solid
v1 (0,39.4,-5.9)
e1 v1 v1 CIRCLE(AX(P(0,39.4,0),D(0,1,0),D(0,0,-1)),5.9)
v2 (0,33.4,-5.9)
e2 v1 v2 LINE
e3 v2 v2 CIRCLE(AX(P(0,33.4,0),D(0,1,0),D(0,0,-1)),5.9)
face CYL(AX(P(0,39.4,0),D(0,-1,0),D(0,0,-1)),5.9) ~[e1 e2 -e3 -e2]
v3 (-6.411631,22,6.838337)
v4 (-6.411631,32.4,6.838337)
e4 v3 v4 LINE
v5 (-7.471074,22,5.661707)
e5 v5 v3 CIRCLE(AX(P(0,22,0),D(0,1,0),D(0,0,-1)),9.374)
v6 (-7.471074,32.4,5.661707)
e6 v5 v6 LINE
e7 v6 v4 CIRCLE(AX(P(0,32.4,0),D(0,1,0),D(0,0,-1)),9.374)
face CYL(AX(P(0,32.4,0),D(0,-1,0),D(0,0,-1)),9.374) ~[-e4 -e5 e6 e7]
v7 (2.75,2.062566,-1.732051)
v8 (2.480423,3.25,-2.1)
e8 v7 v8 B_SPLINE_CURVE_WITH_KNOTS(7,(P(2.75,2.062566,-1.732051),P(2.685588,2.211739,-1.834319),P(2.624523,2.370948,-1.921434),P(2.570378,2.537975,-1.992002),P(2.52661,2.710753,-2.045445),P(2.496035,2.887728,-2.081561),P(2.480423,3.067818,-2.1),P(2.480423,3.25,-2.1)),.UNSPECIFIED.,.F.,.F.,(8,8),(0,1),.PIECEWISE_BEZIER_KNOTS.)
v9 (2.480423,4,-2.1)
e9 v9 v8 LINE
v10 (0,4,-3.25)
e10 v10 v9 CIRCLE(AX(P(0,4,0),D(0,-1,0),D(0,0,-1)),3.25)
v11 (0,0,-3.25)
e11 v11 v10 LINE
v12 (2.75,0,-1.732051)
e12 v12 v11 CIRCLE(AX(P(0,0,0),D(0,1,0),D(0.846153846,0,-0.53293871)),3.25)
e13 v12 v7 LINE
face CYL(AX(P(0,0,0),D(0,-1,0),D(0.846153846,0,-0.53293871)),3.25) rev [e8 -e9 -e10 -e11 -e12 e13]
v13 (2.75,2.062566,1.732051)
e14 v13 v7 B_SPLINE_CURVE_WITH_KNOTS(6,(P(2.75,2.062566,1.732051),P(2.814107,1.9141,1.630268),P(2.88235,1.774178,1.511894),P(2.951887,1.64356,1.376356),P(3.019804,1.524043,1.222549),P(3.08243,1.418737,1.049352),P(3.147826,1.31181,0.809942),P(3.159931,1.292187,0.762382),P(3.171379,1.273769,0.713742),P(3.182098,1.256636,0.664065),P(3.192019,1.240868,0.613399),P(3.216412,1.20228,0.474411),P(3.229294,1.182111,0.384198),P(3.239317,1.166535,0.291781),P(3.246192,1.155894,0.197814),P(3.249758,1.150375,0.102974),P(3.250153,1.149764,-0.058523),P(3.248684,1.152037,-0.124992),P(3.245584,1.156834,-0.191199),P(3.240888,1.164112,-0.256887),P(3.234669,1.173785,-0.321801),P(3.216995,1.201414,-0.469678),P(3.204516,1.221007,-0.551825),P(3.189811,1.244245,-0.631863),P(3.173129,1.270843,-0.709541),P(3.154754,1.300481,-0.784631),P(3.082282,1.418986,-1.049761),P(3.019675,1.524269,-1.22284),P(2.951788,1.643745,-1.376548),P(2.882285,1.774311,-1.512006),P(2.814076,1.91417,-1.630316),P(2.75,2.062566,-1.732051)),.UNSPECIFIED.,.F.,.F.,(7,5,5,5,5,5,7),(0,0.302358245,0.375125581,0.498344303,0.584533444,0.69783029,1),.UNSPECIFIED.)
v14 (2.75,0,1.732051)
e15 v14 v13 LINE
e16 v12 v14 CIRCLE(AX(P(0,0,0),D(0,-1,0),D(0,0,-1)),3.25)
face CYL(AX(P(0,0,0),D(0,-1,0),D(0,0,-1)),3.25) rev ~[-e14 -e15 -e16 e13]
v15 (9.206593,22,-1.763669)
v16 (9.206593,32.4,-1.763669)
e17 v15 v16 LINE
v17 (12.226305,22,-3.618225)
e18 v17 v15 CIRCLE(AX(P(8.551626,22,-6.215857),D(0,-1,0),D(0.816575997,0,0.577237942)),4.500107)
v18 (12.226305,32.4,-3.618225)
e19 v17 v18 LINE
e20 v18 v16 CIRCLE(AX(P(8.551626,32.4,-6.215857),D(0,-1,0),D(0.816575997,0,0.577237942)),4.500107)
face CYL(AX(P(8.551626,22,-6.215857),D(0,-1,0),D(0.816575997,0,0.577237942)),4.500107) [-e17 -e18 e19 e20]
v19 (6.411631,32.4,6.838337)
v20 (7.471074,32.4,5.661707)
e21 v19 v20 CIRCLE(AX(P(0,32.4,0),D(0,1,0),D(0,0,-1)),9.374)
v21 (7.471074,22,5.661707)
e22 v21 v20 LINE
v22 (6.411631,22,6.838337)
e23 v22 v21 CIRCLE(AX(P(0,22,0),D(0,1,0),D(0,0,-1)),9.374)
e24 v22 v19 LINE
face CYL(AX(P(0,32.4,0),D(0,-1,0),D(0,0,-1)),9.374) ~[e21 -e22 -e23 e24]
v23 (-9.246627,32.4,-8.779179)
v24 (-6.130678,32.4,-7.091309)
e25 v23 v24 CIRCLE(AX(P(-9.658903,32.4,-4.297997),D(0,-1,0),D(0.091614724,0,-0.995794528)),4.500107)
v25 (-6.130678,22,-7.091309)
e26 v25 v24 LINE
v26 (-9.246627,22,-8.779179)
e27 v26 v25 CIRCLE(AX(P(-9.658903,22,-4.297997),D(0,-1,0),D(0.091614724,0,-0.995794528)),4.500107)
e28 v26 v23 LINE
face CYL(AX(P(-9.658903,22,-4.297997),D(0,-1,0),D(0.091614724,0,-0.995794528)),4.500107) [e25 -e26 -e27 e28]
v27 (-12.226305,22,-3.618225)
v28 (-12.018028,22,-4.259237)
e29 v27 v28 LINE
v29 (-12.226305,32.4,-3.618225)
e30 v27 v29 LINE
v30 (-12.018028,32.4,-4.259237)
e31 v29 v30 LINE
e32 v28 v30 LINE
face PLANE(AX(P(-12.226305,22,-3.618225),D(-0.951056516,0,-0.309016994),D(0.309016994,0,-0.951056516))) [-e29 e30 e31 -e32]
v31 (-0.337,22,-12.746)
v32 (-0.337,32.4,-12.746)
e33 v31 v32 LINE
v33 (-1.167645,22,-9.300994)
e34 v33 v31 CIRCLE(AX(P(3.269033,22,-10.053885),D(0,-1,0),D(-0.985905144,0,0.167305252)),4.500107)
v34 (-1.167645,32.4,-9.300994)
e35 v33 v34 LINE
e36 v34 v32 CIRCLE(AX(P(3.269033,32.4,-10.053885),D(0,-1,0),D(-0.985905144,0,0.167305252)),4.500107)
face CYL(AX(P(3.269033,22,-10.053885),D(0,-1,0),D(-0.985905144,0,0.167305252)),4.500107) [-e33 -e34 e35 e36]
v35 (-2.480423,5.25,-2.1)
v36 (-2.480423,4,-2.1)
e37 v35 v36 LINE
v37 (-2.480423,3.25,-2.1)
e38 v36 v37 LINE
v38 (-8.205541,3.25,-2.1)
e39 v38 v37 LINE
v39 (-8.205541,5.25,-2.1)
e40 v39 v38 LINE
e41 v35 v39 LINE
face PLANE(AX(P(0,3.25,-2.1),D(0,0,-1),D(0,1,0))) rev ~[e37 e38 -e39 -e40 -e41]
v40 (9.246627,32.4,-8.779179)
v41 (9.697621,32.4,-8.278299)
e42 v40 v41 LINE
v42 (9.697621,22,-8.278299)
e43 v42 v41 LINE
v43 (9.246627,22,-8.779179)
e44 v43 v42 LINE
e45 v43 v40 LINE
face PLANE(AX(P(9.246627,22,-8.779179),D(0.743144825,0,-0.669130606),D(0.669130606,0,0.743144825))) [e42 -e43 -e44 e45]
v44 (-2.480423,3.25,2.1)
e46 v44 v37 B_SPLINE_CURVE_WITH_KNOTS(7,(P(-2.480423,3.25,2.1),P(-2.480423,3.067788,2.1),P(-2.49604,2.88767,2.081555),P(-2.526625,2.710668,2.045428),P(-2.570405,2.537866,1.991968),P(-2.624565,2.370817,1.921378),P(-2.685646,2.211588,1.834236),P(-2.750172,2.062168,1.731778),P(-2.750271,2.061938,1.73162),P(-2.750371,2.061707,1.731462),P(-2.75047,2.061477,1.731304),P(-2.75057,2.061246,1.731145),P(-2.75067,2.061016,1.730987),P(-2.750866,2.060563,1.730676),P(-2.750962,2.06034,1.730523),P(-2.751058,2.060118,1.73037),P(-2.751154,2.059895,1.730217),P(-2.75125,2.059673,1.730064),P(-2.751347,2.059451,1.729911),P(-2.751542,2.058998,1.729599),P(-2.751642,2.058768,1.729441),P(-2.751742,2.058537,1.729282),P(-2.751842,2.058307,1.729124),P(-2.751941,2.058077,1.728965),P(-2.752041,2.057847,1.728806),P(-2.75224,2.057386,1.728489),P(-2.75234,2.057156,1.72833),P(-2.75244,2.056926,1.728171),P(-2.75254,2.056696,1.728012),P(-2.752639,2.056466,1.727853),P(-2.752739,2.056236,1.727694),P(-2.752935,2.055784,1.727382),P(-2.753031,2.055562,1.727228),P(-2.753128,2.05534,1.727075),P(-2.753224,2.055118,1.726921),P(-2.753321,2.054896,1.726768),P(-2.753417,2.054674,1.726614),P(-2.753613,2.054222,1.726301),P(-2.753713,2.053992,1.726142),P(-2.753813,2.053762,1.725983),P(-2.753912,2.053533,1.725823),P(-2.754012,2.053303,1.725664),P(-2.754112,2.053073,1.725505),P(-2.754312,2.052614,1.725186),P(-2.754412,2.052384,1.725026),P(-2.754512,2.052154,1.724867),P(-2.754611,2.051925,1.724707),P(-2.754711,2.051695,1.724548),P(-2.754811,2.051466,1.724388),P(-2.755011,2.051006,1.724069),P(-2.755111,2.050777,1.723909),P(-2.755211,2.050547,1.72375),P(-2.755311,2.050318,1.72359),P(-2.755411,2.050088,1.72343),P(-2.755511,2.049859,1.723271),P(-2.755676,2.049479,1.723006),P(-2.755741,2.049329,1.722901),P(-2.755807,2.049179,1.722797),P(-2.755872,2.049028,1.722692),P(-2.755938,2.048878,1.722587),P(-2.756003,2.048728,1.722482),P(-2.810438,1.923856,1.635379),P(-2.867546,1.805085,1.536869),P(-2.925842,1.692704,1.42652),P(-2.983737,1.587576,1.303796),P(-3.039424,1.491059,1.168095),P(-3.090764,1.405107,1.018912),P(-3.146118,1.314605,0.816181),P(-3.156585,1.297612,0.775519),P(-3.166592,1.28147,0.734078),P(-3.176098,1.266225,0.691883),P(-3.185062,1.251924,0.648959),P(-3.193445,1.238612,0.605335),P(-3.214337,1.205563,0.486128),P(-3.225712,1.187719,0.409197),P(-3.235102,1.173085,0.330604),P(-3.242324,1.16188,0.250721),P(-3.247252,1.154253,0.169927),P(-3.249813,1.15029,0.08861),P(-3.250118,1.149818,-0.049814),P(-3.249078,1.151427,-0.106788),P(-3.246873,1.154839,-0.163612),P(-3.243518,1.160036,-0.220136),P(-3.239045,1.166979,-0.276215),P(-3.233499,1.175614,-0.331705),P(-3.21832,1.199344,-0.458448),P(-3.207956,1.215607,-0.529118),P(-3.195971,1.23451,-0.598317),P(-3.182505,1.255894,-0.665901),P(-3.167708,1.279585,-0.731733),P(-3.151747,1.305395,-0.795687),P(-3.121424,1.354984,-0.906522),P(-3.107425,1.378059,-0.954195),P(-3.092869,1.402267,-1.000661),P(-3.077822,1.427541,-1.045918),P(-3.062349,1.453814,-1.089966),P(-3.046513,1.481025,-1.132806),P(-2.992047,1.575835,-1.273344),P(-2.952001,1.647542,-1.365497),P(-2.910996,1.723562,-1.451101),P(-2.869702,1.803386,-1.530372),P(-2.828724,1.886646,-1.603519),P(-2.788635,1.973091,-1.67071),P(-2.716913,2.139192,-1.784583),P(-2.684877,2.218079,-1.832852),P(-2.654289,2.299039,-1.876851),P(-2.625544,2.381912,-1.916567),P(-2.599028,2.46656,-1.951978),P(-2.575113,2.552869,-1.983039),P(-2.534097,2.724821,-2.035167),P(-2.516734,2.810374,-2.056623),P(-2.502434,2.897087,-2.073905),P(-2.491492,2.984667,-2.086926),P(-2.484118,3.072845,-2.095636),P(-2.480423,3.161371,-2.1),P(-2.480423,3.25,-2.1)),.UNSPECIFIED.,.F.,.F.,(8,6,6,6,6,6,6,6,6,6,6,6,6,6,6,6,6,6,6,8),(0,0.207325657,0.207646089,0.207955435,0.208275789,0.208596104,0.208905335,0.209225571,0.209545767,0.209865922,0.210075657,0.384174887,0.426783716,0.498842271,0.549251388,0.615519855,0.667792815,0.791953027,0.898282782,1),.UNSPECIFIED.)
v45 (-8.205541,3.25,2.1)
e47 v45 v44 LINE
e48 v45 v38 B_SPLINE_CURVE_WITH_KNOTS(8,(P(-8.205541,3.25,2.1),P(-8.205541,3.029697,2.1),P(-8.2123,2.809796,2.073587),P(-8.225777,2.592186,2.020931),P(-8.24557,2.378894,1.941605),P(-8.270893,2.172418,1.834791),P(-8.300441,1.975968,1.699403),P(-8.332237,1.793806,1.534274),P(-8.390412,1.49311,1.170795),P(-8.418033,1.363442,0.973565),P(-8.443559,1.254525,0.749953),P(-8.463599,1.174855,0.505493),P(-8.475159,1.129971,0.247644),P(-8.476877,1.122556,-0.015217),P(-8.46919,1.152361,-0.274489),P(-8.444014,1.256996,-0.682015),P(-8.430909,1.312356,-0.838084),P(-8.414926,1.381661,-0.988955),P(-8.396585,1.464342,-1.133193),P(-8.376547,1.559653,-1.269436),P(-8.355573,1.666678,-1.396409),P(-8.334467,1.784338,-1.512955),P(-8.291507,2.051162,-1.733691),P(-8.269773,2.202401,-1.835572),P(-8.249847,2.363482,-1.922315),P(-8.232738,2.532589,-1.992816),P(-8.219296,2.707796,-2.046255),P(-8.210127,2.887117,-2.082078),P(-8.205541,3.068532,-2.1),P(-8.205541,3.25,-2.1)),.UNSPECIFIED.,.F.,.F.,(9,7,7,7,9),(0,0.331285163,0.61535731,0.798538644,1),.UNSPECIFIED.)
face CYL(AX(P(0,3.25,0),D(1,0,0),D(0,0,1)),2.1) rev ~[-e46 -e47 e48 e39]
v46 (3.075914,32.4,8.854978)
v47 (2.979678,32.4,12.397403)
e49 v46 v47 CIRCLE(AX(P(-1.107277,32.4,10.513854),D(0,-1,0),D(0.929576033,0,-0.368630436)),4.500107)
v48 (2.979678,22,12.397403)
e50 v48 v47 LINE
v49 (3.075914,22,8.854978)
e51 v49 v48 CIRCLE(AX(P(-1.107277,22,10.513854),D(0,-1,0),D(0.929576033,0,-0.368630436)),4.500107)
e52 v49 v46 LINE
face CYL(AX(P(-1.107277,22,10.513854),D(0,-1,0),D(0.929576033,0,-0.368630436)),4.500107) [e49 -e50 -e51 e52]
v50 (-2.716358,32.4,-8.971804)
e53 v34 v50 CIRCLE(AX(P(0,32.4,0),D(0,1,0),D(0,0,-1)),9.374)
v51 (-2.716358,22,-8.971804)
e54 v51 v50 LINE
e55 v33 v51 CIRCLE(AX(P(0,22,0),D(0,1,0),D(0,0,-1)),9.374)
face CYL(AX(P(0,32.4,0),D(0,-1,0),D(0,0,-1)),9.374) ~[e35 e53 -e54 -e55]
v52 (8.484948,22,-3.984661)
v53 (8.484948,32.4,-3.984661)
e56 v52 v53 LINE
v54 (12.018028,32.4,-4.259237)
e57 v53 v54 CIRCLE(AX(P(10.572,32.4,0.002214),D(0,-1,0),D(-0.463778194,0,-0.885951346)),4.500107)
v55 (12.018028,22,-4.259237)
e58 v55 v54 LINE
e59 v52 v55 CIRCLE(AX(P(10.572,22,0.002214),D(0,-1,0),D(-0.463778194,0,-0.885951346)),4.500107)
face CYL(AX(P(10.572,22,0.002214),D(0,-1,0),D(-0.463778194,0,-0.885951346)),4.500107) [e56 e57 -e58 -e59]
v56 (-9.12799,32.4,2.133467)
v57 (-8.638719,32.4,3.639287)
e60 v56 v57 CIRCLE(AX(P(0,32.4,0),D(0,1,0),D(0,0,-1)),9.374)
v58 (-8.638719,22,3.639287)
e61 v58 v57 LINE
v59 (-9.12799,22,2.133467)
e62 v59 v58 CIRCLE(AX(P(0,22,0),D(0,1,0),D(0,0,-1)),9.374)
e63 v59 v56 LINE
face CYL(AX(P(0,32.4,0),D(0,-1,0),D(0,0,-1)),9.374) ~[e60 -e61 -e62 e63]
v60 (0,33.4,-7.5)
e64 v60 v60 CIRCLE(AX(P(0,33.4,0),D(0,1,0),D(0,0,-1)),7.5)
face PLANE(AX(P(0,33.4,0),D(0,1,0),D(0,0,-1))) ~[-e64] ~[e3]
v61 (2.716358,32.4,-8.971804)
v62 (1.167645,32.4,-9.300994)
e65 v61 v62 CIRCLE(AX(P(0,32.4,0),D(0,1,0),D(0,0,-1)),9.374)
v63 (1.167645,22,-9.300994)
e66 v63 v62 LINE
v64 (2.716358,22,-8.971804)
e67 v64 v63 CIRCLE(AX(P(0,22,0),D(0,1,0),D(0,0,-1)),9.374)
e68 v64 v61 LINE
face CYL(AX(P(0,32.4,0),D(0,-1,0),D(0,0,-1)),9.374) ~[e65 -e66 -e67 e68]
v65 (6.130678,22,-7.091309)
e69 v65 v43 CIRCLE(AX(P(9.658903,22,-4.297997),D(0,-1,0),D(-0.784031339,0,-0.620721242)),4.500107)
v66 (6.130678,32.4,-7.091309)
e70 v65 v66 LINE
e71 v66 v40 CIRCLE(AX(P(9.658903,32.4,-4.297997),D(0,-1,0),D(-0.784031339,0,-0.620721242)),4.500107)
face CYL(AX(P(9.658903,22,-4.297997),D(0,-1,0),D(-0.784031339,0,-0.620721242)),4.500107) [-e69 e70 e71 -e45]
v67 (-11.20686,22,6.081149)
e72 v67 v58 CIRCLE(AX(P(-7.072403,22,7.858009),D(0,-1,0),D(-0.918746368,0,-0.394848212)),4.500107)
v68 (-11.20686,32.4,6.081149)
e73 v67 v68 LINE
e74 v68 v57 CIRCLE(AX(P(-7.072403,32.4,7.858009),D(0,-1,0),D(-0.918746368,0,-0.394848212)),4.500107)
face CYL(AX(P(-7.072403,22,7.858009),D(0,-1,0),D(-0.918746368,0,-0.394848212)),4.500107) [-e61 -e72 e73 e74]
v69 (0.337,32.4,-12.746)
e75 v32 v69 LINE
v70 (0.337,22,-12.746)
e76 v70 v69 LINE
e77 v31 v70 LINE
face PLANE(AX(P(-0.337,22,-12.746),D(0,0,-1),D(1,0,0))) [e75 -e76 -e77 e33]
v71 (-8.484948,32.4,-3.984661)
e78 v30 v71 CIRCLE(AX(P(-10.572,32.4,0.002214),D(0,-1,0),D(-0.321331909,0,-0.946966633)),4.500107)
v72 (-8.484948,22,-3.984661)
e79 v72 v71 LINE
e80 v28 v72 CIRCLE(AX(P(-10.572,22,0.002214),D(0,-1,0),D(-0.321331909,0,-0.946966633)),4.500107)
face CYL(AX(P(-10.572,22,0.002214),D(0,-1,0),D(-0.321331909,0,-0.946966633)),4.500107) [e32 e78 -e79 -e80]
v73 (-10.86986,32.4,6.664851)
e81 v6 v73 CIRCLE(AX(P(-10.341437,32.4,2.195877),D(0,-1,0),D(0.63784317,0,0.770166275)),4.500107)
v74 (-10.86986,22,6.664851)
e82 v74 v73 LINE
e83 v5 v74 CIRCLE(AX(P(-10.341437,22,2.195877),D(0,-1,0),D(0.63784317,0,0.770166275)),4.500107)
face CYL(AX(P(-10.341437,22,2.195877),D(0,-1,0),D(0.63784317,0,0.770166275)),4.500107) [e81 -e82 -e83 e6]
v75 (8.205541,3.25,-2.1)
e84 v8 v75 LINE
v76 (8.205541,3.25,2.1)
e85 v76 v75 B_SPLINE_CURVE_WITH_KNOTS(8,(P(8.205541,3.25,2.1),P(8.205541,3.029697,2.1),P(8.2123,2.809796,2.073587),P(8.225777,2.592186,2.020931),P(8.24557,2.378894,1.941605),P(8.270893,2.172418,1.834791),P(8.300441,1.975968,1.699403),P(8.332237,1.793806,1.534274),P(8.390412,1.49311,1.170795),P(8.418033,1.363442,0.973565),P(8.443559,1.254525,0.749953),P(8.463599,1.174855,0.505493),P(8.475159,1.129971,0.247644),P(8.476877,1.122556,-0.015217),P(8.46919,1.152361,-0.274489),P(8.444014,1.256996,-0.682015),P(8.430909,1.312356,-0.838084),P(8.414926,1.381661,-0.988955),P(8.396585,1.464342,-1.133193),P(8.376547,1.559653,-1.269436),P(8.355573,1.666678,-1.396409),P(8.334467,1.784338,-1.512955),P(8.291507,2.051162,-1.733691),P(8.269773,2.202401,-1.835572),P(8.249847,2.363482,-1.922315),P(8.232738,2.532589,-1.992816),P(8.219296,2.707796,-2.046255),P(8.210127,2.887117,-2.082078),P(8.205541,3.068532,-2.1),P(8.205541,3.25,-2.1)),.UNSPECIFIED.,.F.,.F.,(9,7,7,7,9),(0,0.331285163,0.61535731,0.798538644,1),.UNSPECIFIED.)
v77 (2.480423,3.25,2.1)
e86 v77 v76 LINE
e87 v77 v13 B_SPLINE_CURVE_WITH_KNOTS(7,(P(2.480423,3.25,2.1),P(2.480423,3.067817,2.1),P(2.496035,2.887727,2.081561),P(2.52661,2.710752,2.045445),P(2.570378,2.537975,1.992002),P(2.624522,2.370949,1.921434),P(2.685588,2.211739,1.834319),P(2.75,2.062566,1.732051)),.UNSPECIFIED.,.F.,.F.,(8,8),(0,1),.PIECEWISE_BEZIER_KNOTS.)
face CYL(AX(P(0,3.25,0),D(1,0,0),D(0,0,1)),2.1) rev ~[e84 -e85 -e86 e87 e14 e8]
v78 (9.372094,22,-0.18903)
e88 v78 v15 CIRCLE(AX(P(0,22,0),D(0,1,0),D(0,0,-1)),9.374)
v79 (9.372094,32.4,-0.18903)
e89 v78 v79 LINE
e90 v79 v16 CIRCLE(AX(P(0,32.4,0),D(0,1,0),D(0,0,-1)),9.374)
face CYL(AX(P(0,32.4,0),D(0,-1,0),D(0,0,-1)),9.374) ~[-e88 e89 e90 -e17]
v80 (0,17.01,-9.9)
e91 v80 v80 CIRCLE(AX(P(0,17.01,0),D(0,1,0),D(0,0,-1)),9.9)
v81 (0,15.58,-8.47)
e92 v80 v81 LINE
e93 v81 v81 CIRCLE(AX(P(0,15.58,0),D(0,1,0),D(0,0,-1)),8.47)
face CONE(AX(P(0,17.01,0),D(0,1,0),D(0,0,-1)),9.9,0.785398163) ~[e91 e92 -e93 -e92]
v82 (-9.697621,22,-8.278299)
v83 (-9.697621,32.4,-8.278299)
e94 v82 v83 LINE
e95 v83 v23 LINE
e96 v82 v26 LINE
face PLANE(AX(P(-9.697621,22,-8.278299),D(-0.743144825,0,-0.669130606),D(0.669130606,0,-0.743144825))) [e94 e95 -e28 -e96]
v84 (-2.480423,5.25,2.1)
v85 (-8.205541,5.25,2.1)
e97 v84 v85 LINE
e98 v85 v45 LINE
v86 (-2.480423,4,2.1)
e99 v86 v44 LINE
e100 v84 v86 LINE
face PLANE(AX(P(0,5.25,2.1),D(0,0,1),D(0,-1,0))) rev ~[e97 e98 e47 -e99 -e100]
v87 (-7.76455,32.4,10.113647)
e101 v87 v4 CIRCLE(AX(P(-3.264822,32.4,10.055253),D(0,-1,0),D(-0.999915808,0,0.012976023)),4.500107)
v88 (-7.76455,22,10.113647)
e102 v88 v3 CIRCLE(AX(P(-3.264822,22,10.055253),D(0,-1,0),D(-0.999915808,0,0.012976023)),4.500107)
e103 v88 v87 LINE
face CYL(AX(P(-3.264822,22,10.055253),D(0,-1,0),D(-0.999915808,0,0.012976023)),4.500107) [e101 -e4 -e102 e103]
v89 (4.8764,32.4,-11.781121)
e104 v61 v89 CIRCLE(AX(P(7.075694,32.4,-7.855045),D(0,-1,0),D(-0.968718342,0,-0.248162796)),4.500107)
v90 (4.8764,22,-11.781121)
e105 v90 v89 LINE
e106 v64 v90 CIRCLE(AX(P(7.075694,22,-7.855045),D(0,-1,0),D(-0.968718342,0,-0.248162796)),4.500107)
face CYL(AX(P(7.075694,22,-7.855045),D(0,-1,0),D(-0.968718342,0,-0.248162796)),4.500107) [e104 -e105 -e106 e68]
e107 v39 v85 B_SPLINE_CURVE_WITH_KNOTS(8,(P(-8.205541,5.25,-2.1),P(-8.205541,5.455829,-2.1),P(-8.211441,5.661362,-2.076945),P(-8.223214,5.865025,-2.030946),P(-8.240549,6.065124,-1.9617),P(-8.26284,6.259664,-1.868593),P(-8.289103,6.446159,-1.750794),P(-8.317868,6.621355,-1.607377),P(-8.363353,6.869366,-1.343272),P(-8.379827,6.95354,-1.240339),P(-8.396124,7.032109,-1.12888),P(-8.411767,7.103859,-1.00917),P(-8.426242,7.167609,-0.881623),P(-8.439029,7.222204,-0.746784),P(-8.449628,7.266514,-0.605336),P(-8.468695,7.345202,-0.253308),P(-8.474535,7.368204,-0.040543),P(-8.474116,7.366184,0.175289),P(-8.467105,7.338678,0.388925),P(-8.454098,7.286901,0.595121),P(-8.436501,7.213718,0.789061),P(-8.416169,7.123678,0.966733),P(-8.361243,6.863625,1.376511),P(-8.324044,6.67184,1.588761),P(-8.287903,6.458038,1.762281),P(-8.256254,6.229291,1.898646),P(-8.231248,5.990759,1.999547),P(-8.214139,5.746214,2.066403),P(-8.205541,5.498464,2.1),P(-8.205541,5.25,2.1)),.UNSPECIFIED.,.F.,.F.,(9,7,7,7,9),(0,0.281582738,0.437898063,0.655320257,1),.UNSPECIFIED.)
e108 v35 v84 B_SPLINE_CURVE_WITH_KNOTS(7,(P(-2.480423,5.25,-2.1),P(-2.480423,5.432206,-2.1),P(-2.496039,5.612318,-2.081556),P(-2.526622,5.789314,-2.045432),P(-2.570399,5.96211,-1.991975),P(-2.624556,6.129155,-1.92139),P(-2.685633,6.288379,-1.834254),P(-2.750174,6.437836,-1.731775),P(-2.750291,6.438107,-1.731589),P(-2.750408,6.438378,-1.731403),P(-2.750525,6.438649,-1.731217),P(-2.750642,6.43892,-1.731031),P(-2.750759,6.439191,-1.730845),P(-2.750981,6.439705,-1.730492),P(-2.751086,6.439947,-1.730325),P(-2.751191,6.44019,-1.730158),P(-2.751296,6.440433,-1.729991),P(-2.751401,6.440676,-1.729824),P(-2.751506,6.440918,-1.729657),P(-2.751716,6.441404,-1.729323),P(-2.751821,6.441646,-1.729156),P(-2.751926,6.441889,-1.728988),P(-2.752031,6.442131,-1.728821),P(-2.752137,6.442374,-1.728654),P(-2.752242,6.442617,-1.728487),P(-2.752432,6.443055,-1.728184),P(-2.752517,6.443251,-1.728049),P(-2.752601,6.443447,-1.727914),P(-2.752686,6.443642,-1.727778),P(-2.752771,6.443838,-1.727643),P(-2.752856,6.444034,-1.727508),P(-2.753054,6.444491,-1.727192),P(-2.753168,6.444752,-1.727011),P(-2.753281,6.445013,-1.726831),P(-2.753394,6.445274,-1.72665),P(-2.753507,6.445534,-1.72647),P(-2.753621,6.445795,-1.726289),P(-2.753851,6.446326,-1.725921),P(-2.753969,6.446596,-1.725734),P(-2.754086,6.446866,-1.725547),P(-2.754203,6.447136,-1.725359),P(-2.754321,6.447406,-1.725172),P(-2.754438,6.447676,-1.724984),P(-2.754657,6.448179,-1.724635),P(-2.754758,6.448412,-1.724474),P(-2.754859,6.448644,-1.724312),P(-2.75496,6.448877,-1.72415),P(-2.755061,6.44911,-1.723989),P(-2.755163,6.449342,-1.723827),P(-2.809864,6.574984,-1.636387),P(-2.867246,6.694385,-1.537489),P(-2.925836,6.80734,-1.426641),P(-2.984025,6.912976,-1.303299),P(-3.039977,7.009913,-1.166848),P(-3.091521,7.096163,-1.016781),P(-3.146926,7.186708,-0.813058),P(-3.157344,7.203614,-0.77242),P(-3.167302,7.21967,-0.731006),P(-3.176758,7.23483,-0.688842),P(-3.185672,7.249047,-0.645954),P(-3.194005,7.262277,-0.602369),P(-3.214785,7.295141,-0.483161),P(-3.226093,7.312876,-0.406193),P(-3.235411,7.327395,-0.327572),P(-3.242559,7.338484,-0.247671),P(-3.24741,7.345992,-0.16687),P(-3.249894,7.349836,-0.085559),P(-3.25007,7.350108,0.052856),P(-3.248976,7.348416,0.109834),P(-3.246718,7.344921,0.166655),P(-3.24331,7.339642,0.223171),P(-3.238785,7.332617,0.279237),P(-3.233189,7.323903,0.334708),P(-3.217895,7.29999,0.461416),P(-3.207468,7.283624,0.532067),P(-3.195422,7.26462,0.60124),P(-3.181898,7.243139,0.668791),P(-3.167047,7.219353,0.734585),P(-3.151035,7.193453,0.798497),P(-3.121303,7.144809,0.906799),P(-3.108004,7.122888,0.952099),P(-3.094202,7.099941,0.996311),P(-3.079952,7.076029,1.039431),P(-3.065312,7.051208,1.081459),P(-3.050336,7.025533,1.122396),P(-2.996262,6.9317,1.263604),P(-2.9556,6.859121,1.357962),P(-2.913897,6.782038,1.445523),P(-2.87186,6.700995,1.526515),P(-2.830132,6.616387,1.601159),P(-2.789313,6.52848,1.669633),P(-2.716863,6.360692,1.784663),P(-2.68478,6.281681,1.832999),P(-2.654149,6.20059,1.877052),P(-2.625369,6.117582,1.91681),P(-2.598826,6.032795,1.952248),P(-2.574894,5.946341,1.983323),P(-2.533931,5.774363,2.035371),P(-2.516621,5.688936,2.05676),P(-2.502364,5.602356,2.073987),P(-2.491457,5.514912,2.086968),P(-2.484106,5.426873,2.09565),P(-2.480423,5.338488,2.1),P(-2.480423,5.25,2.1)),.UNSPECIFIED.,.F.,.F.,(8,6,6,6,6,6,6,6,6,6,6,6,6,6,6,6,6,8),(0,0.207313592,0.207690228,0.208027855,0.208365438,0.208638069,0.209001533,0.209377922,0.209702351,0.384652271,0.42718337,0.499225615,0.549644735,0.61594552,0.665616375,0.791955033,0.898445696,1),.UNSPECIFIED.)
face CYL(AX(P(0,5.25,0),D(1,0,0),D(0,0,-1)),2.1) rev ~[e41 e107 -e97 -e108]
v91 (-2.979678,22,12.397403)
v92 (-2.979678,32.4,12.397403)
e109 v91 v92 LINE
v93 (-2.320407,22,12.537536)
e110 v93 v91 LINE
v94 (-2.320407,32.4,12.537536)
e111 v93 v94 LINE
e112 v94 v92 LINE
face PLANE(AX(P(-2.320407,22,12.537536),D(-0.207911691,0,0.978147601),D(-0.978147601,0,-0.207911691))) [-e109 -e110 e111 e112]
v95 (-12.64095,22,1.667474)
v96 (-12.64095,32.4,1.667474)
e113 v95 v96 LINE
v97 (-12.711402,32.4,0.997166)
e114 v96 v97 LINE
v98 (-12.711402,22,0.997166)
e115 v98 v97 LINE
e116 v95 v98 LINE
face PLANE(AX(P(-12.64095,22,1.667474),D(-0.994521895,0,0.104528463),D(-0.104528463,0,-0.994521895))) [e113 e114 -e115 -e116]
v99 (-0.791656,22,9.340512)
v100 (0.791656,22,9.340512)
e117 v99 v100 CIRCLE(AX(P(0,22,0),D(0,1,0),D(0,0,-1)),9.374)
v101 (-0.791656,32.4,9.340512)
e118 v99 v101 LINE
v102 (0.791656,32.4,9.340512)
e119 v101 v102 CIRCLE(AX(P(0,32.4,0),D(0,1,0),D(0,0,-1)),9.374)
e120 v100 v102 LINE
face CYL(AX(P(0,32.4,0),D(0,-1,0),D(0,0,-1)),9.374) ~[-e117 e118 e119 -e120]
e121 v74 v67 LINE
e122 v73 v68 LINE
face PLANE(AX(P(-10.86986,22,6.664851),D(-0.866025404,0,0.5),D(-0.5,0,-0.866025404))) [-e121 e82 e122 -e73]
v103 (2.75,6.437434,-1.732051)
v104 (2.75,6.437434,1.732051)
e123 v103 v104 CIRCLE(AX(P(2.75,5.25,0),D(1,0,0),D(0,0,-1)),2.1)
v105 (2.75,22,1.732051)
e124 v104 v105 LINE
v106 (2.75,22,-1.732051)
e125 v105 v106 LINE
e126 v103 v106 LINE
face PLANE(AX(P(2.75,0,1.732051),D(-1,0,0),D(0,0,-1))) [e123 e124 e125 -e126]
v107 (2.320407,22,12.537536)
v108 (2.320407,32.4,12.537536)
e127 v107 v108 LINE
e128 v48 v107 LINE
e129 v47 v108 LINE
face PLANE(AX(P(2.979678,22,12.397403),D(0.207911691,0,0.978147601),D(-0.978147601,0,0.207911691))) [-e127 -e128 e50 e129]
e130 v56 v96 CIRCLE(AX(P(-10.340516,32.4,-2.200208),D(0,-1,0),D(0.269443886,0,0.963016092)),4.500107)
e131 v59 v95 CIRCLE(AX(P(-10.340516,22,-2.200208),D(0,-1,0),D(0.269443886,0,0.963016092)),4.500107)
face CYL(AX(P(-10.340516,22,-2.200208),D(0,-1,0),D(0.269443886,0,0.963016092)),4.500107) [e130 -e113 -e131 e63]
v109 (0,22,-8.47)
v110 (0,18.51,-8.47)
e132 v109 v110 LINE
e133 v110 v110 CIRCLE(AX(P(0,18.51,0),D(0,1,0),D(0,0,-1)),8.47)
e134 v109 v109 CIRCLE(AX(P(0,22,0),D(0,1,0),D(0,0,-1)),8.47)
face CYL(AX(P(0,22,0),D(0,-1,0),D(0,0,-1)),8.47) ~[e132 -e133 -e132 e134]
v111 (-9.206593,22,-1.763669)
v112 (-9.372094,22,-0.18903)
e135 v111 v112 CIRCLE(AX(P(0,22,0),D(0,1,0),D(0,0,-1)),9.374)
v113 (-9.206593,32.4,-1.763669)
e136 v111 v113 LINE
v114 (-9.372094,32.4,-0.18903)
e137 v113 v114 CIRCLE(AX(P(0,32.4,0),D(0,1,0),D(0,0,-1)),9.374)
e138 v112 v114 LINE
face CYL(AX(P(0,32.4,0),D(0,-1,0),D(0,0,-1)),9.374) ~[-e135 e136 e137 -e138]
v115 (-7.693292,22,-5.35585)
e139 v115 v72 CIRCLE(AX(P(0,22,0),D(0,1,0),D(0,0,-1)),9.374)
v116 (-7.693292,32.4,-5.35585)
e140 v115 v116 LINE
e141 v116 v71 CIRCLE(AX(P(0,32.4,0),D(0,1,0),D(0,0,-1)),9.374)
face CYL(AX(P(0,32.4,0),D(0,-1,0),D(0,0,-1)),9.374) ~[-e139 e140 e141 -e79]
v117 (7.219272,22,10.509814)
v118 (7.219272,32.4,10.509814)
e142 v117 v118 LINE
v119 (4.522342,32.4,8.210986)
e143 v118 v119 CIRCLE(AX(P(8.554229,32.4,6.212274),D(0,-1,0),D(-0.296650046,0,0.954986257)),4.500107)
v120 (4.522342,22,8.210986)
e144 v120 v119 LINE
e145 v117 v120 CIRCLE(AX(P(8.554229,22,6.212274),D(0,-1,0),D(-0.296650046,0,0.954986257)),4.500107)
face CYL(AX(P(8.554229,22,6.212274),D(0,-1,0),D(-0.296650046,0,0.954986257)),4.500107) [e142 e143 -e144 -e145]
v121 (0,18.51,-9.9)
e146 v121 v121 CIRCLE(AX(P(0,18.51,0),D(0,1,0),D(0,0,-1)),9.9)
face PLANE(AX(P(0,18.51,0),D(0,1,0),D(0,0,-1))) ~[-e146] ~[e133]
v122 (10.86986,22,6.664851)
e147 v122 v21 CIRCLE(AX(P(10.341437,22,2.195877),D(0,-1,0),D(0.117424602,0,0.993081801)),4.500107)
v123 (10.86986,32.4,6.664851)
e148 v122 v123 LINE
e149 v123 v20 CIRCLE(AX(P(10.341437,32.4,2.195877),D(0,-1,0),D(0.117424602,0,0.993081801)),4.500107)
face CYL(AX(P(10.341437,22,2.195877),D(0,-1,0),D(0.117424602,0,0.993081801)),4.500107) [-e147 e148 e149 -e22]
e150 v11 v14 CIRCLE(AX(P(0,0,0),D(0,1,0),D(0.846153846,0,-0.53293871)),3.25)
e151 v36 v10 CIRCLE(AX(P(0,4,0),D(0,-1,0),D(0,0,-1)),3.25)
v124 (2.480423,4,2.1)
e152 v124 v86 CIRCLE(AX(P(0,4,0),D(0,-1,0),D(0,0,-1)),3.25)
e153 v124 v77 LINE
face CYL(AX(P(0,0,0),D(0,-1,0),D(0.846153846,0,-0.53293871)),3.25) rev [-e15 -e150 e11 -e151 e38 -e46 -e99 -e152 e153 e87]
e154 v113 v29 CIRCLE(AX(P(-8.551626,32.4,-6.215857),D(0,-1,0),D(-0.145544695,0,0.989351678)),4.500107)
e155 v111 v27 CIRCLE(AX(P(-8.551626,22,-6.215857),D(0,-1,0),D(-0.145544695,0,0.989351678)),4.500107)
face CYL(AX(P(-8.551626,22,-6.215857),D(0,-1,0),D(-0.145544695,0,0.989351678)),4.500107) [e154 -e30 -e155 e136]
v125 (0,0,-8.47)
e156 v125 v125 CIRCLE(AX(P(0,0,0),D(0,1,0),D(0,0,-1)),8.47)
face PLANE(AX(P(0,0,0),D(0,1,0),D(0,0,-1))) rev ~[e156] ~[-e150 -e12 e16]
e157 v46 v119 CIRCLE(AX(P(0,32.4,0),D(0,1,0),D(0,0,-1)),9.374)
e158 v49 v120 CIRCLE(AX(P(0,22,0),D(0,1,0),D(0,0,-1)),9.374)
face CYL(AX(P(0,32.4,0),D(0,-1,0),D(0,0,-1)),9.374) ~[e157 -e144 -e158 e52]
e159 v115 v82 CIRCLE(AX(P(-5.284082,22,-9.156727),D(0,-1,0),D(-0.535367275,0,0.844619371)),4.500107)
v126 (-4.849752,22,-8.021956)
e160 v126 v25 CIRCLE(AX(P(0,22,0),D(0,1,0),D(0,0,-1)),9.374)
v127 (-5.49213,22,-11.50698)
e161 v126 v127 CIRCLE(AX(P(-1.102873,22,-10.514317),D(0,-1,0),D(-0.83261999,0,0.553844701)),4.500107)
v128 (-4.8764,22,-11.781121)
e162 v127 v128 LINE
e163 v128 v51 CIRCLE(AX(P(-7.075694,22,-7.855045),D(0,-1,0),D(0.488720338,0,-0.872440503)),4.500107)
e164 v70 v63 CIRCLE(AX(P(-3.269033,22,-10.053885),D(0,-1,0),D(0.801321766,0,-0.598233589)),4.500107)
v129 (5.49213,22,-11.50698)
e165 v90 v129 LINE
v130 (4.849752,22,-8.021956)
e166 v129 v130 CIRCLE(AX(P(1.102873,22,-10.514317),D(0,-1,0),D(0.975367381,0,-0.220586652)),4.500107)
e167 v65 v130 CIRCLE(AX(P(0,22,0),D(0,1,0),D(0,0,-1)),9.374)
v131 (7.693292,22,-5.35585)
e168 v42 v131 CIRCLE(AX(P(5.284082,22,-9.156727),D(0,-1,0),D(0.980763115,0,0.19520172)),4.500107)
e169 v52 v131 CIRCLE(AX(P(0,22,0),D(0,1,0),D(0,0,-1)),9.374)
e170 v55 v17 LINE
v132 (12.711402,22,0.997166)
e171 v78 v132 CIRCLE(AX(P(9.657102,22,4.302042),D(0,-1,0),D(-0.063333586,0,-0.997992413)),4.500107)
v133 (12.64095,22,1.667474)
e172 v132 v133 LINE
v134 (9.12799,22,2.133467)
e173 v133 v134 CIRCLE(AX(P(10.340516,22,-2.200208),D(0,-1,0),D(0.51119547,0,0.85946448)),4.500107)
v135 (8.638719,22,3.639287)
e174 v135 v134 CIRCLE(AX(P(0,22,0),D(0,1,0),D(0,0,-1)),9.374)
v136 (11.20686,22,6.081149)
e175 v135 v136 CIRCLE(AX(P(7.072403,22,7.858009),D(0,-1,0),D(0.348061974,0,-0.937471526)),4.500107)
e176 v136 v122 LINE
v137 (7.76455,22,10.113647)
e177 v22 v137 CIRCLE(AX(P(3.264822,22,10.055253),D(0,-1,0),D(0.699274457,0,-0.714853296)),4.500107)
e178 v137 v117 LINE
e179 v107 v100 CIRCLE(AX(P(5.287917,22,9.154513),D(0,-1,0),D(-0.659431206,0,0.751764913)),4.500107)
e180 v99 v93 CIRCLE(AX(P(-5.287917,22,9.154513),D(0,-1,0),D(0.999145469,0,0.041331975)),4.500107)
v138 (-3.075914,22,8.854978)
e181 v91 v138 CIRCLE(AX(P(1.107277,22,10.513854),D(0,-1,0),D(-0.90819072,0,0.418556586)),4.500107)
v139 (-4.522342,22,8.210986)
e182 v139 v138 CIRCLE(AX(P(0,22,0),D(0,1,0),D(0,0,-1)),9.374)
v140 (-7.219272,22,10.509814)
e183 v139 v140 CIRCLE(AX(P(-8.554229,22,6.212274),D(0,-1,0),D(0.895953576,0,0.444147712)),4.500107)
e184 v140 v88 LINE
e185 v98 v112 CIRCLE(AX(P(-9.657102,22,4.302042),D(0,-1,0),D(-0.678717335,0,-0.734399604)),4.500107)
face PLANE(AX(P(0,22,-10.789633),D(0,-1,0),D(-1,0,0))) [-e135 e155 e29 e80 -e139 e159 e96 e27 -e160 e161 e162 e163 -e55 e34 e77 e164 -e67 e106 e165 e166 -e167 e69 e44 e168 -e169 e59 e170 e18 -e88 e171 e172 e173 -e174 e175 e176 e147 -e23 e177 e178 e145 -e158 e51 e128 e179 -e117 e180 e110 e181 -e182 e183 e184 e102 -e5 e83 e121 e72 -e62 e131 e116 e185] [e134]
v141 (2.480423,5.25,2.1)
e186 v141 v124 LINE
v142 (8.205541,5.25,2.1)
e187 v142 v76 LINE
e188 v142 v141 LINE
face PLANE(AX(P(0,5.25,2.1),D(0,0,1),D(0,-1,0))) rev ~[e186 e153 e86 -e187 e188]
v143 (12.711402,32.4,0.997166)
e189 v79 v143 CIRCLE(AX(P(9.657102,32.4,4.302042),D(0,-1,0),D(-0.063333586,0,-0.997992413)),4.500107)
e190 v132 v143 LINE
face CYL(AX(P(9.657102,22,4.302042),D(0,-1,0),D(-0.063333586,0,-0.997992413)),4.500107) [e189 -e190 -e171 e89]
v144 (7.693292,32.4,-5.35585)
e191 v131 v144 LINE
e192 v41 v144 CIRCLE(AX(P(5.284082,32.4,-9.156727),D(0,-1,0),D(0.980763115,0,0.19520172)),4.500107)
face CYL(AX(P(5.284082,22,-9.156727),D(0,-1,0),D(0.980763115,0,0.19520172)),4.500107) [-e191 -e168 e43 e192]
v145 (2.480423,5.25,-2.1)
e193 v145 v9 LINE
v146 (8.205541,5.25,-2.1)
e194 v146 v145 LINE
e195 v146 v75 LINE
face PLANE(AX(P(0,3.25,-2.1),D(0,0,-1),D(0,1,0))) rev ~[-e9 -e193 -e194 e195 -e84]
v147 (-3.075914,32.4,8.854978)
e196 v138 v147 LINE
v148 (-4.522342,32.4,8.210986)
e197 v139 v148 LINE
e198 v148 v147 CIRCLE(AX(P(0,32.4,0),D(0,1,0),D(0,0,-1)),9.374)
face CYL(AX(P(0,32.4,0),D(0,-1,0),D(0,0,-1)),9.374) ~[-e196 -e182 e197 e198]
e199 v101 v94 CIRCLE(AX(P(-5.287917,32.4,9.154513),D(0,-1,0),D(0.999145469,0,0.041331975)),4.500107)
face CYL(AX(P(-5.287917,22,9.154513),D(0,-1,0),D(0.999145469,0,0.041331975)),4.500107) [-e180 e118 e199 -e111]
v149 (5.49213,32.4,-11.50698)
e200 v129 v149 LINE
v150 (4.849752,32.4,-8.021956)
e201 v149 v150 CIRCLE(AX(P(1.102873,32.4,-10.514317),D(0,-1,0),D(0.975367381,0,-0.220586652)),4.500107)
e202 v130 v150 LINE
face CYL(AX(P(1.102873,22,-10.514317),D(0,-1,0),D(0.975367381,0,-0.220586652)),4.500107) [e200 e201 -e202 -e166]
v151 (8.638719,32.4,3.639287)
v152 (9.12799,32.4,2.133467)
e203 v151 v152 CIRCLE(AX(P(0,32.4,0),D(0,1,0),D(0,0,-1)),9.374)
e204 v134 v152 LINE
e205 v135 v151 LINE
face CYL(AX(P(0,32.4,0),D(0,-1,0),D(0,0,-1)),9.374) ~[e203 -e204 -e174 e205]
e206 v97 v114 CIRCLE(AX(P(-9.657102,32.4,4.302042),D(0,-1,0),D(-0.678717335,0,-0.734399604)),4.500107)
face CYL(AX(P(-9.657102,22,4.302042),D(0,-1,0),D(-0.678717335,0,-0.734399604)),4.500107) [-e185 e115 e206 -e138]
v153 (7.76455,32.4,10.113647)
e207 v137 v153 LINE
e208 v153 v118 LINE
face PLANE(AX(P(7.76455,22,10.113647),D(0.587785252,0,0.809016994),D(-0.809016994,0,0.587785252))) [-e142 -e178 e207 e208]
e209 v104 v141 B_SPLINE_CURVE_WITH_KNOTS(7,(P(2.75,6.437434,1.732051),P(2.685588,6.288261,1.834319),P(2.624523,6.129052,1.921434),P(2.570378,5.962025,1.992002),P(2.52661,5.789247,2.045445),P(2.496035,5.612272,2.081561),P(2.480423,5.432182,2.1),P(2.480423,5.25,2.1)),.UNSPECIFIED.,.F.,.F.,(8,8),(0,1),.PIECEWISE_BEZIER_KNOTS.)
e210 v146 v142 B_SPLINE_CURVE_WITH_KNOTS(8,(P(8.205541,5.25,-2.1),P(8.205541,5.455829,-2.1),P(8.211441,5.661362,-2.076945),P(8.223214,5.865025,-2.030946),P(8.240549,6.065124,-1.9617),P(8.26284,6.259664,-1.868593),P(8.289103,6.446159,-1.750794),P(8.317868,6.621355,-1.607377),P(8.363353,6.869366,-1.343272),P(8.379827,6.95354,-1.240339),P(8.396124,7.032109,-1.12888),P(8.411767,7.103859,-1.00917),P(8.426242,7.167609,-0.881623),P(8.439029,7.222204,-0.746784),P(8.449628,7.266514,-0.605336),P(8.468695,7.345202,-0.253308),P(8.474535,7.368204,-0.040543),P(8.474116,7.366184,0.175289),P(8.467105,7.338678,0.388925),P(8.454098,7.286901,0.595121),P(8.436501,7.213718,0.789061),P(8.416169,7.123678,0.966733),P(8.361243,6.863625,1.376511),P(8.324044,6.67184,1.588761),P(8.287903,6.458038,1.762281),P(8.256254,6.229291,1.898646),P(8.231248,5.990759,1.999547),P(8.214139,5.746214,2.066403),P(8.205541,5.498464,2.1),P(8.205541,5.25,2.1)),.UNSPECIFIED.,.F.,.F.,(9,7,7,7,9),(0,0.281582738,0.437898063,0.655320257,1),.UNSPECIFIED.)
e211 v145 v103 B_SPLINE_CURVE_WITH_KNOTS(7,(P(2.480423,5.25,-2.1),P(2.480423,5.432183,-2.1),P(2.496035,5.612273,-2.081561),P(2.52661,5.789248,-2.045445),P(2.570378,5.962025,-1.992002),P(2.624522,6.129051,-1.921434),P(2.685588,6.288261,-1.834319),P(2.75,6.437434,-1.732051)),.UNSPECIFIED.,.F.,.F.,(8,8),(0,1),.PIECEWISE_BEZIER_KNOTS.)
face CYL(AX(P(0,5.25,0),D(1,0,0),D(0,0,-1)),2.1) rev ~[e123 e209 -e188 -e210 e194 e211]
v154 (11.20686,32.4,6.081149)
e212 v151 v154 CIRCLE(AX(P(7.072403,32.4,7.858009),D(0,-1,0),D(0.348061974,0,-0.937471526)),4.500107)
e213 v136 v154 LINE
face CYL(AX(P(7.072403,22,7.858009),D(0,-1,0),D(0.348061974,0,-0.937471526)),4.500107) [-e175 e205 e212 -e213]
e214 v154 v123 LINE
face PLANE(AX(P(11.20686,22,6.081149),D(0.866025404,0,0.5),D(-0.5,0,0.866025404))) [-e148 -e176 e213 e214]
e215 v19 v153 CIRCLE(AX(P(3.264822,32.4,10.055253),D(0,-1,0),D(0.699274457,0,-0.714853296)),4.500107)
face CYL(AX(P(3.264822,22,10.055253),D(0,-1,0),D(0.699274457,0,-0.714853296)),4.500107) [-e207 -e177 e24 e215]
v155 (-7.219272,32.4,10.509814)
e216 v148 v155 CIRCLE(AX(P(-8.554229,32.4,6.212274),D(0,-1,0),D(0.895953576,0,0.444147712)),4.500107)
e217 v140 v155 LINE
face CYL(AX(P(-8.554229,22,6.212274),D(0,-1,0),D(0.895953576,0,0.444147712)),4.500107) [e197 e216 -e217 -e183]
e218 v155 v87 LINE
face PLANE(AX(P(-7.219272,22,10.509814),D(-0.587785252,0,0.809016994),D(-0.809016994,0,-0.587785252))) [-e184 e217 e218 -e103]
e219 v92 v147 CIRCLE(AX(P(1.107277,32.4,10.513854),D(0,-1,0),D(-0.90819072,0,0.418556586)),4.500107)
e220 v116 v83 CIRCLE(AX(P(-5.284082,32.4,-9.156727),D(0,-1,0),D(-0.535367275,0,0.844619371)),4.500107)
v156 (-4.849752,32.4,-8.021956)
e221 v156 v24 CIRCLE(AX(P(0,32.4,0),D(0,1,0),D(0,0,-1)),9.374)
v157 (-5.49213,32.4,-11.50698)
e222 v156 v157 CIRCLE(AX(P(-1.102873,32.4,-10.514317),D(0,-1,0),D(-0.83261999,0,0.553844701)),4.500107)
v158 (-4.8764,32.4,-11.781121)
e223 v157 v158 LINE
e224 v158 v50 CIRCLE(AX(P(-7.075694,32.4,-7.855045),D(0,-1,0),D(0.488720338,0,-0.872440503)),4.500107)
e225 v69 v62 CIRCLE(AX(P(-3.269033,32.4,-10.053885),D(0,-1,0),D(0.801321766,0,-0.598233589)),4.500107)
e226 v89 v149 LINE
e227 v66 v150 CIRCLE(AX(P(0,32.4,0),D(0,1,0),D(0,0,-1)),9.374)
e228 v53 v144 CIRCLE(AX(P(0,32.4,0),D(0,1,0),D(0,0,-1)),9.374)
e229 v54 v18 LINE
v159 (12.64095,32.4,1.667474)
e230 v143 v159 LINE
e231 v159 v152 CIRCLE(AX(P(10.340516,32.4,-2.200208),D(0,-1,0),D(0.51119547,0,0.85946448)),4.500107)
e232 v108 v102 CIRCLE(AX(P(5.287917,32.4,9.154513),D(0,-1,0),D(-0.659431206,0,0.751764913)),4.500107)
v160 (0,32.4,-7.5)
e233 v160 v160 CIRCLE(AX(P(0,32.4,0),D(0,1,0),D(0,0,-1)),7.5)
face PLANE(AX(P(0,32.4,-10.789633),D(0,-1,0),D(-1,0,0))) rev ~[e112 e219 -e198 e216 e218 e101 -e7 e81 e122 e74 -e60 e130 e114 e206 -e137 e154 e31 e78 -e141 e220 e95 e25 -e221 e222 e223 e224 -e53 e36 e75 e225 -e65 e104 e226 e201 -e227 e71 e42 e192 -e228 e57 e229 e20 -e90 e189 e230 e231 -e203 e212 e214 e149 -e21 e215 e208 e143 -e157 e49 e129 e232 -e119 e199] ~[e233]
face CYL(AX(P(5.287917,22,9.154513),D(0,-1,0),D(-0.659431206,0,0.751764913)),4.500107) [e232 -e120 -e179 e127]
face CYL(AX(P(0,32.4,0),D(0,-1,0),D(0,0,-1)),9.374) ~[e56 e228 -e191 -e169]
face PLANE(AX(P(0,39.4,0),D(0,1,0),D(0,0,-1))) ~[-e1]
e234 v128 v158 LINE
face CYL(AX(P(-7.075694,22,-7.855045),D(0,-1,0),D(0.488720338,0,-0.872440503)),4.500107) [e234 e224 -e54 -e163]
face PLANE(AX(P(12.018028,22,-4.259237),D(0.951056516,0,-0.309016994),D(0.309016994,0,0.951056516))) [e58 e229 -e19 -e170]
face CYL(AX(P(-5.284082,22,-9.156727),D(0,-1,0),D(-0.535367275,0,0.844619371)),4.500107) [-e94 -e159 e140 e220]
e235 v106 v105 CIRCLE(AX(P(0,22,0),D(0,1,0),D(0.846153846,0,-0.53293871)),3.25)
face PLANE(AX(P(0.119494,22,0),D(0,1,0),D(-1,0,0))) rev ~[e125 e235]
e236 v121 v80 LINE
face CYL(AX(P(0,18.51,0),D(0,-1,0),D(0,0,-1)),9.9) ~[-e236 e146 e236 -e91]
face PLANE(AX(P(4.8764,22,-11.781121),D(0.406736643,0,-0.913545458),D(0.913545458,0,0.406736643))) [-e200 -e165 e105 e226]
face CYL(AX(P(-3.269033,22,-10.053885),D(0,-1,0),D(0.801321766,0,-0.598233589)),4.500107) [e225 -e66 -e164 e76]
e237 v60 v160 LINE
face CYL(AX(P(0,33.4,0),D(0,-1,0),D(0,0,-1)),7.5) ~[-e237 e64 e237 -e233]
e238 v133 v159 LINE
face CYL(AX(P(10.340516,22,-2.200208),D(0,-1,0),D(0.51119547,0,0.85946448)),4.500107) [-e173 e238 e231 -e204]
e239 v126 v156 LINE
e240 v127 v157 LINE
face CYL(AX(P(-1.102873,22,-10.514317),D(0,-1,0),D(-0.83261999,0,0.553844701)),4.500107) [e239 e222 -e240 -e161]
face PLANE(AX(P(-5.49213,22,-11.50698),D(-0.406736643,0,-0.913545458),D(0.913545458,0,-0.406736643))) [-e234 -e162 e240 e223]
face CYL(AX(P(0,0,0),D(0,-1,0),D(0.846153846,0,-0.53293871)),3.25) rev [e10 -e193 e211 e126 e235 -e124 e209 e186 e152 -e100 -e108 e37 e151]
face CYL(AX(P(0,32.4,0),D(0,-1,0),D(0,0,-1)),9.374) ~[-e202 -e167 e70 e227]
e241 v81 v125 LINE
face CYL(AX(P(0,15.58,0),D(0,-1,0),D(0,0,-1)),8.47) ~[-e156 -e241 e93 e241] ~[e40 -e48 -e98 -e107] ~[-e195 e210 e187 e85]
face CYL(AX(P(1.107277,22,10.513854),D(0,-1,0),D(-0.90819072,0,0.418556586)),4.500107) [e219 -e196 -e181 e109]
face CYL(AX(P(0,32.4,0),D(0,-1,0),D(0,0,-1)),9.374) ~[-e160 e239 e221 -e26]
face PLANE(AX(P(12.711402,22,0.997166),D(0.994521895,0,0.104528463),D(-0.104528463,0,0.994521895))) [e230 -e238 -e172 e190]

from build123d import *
from build123d.topology import SkipClean

# Parameters (mm, degrees)
RESSALTO_EXTRUS_O1_START = -10.4
RESSALTO_EXTRUS_O1_DEPTH = 10.4
PADR_OCIRCULAR1_COUNT    = 15
CORTE_EXTRUS_O1_DEPTH    = 22
ESBO_O4_R                = 3.25
CORTE_EXTRUS_O2_DEPTH    = 4
CORTE_EXTRUS_O4_DEPTH    = 20


with BuildPart() as part:
    # Esboço1 → Revolução1 (revolve)
    with BuildSketch(Plane.XY, mode=Mode.PRIVATE) as revolu_o1_sk:
        Polygon((0, 0), (0, 39.4), (5.9, 39.4), (5.9, 33.4), (7.5, 33.4), (7.5, 32.4), (9.374, 32.4), (9.374, 22), (8.47, 22), (8.47, 18.51), (9.9, 18.51), (9.9, 17.01), (8.47, 15.58), (8.47, 0), align=None)
    revolve(revolu_o1_sk.sketch.rotate(Axis((0, 0, 0), (0, 1, 0)), 90), axis=Axis((0, 0, 0), (0, 1, 0)))

    # Esboço2 → Ressalto-extrusão1 (add)
    with BuildSketch(Plane(origin=(0, 32.4, 0), x_dir=(1, 0, 0), z_dir=(0, 1, 0)).offset(RESSALTO_EXTRUS_O1_START)):
        with BuildLine():
            Line((-0.337, 12.746), (0.337, 12.746))
            ThreePointArc((0.337, 12.746), (1.105703178, 11.108702403), (1.167644885, 9.300993572))
            ThreePointArc((1.167644885, 9.300993572), (0, 9.374), (-1.167644885, 9.300993572))
            ThreePointArc((-1.167644885, 9.300993572), (-1.105703178, 11.108702403), (-0.337, 12.746))
        make_face()
    ressalto_extrus_o1 = extrude(amount=RESSALTO_EXTRUS_O1_DEPTH)

    # PadrãoCircular1: Ressalto-extrusão1 ×15 about axis
    padr_ocircular1_axis = Axis((0, 0, 0), (0, 1, 0))
    for i in range(1, PADR_OCIRCULAR1_COUNT):
        add(ressalto_extrus_o1.rotate(padr_ocircular1_axis, i * 360 / PADR_OCIRCULAR1_COUNT))

    # Esboço3 → Corte-extrusão1 (cut)
    with BuildSketch(Plane.XZ):
        with BuildLine():
            Line((2.75, 1.732050808), (2.75, -1.732050808))
            ThreePointArc((2.75, -1.732050808), (-3.25, 0), (2.75, 1.732050808))
        make_face()
    extrude(amount=-CORTE_EXTRUS_O1_DEPTH, mode=Mode.SUBTRACT)

    # Esboço4 → Corte-extrusão2 (cut)
    with SkipClean():  # the faces are left unmerged after this step: merging them gives an invalid solid
        with BuildSketch(Plane.XZ):
            with Locations(Location((0, 0, 0), (0, 0, 270))):
                Circle(ESBO_O4_R)
        extrude(amount=-CORTE_EXTRUS_O2_DEPTH, mode=Mode.SUBTRACT)

    # Esboço7 → Corte-extrusão4 (cut, symmetric)
    with SkipClean():  # the faces are left unmerged after this step: merging them gives an invalid solid
        with BuildSketch(Plane(origin=(0, 0, 0), x_dir=(0, 0, -1), z_dir=(1, 0, 0))):
            with BuildLine():
                Line((-2.1, 5.25), (-2.1, 3.25))
                ThreePointArc((-2.1, 3.25), (0, 1.15), (2.1, 3.25))
                Line((2.1, 3.25), (2.1, 5.25))
                ThreePointArc((2.1, 5.25), (0, 7.35), (-2.1, 5.25))
            make_face()
        extrude(amount=CORTE_EXTRUS_O4_DEPTH, both=True, mode=Mode.SUBTRACT)


solid = part.part
